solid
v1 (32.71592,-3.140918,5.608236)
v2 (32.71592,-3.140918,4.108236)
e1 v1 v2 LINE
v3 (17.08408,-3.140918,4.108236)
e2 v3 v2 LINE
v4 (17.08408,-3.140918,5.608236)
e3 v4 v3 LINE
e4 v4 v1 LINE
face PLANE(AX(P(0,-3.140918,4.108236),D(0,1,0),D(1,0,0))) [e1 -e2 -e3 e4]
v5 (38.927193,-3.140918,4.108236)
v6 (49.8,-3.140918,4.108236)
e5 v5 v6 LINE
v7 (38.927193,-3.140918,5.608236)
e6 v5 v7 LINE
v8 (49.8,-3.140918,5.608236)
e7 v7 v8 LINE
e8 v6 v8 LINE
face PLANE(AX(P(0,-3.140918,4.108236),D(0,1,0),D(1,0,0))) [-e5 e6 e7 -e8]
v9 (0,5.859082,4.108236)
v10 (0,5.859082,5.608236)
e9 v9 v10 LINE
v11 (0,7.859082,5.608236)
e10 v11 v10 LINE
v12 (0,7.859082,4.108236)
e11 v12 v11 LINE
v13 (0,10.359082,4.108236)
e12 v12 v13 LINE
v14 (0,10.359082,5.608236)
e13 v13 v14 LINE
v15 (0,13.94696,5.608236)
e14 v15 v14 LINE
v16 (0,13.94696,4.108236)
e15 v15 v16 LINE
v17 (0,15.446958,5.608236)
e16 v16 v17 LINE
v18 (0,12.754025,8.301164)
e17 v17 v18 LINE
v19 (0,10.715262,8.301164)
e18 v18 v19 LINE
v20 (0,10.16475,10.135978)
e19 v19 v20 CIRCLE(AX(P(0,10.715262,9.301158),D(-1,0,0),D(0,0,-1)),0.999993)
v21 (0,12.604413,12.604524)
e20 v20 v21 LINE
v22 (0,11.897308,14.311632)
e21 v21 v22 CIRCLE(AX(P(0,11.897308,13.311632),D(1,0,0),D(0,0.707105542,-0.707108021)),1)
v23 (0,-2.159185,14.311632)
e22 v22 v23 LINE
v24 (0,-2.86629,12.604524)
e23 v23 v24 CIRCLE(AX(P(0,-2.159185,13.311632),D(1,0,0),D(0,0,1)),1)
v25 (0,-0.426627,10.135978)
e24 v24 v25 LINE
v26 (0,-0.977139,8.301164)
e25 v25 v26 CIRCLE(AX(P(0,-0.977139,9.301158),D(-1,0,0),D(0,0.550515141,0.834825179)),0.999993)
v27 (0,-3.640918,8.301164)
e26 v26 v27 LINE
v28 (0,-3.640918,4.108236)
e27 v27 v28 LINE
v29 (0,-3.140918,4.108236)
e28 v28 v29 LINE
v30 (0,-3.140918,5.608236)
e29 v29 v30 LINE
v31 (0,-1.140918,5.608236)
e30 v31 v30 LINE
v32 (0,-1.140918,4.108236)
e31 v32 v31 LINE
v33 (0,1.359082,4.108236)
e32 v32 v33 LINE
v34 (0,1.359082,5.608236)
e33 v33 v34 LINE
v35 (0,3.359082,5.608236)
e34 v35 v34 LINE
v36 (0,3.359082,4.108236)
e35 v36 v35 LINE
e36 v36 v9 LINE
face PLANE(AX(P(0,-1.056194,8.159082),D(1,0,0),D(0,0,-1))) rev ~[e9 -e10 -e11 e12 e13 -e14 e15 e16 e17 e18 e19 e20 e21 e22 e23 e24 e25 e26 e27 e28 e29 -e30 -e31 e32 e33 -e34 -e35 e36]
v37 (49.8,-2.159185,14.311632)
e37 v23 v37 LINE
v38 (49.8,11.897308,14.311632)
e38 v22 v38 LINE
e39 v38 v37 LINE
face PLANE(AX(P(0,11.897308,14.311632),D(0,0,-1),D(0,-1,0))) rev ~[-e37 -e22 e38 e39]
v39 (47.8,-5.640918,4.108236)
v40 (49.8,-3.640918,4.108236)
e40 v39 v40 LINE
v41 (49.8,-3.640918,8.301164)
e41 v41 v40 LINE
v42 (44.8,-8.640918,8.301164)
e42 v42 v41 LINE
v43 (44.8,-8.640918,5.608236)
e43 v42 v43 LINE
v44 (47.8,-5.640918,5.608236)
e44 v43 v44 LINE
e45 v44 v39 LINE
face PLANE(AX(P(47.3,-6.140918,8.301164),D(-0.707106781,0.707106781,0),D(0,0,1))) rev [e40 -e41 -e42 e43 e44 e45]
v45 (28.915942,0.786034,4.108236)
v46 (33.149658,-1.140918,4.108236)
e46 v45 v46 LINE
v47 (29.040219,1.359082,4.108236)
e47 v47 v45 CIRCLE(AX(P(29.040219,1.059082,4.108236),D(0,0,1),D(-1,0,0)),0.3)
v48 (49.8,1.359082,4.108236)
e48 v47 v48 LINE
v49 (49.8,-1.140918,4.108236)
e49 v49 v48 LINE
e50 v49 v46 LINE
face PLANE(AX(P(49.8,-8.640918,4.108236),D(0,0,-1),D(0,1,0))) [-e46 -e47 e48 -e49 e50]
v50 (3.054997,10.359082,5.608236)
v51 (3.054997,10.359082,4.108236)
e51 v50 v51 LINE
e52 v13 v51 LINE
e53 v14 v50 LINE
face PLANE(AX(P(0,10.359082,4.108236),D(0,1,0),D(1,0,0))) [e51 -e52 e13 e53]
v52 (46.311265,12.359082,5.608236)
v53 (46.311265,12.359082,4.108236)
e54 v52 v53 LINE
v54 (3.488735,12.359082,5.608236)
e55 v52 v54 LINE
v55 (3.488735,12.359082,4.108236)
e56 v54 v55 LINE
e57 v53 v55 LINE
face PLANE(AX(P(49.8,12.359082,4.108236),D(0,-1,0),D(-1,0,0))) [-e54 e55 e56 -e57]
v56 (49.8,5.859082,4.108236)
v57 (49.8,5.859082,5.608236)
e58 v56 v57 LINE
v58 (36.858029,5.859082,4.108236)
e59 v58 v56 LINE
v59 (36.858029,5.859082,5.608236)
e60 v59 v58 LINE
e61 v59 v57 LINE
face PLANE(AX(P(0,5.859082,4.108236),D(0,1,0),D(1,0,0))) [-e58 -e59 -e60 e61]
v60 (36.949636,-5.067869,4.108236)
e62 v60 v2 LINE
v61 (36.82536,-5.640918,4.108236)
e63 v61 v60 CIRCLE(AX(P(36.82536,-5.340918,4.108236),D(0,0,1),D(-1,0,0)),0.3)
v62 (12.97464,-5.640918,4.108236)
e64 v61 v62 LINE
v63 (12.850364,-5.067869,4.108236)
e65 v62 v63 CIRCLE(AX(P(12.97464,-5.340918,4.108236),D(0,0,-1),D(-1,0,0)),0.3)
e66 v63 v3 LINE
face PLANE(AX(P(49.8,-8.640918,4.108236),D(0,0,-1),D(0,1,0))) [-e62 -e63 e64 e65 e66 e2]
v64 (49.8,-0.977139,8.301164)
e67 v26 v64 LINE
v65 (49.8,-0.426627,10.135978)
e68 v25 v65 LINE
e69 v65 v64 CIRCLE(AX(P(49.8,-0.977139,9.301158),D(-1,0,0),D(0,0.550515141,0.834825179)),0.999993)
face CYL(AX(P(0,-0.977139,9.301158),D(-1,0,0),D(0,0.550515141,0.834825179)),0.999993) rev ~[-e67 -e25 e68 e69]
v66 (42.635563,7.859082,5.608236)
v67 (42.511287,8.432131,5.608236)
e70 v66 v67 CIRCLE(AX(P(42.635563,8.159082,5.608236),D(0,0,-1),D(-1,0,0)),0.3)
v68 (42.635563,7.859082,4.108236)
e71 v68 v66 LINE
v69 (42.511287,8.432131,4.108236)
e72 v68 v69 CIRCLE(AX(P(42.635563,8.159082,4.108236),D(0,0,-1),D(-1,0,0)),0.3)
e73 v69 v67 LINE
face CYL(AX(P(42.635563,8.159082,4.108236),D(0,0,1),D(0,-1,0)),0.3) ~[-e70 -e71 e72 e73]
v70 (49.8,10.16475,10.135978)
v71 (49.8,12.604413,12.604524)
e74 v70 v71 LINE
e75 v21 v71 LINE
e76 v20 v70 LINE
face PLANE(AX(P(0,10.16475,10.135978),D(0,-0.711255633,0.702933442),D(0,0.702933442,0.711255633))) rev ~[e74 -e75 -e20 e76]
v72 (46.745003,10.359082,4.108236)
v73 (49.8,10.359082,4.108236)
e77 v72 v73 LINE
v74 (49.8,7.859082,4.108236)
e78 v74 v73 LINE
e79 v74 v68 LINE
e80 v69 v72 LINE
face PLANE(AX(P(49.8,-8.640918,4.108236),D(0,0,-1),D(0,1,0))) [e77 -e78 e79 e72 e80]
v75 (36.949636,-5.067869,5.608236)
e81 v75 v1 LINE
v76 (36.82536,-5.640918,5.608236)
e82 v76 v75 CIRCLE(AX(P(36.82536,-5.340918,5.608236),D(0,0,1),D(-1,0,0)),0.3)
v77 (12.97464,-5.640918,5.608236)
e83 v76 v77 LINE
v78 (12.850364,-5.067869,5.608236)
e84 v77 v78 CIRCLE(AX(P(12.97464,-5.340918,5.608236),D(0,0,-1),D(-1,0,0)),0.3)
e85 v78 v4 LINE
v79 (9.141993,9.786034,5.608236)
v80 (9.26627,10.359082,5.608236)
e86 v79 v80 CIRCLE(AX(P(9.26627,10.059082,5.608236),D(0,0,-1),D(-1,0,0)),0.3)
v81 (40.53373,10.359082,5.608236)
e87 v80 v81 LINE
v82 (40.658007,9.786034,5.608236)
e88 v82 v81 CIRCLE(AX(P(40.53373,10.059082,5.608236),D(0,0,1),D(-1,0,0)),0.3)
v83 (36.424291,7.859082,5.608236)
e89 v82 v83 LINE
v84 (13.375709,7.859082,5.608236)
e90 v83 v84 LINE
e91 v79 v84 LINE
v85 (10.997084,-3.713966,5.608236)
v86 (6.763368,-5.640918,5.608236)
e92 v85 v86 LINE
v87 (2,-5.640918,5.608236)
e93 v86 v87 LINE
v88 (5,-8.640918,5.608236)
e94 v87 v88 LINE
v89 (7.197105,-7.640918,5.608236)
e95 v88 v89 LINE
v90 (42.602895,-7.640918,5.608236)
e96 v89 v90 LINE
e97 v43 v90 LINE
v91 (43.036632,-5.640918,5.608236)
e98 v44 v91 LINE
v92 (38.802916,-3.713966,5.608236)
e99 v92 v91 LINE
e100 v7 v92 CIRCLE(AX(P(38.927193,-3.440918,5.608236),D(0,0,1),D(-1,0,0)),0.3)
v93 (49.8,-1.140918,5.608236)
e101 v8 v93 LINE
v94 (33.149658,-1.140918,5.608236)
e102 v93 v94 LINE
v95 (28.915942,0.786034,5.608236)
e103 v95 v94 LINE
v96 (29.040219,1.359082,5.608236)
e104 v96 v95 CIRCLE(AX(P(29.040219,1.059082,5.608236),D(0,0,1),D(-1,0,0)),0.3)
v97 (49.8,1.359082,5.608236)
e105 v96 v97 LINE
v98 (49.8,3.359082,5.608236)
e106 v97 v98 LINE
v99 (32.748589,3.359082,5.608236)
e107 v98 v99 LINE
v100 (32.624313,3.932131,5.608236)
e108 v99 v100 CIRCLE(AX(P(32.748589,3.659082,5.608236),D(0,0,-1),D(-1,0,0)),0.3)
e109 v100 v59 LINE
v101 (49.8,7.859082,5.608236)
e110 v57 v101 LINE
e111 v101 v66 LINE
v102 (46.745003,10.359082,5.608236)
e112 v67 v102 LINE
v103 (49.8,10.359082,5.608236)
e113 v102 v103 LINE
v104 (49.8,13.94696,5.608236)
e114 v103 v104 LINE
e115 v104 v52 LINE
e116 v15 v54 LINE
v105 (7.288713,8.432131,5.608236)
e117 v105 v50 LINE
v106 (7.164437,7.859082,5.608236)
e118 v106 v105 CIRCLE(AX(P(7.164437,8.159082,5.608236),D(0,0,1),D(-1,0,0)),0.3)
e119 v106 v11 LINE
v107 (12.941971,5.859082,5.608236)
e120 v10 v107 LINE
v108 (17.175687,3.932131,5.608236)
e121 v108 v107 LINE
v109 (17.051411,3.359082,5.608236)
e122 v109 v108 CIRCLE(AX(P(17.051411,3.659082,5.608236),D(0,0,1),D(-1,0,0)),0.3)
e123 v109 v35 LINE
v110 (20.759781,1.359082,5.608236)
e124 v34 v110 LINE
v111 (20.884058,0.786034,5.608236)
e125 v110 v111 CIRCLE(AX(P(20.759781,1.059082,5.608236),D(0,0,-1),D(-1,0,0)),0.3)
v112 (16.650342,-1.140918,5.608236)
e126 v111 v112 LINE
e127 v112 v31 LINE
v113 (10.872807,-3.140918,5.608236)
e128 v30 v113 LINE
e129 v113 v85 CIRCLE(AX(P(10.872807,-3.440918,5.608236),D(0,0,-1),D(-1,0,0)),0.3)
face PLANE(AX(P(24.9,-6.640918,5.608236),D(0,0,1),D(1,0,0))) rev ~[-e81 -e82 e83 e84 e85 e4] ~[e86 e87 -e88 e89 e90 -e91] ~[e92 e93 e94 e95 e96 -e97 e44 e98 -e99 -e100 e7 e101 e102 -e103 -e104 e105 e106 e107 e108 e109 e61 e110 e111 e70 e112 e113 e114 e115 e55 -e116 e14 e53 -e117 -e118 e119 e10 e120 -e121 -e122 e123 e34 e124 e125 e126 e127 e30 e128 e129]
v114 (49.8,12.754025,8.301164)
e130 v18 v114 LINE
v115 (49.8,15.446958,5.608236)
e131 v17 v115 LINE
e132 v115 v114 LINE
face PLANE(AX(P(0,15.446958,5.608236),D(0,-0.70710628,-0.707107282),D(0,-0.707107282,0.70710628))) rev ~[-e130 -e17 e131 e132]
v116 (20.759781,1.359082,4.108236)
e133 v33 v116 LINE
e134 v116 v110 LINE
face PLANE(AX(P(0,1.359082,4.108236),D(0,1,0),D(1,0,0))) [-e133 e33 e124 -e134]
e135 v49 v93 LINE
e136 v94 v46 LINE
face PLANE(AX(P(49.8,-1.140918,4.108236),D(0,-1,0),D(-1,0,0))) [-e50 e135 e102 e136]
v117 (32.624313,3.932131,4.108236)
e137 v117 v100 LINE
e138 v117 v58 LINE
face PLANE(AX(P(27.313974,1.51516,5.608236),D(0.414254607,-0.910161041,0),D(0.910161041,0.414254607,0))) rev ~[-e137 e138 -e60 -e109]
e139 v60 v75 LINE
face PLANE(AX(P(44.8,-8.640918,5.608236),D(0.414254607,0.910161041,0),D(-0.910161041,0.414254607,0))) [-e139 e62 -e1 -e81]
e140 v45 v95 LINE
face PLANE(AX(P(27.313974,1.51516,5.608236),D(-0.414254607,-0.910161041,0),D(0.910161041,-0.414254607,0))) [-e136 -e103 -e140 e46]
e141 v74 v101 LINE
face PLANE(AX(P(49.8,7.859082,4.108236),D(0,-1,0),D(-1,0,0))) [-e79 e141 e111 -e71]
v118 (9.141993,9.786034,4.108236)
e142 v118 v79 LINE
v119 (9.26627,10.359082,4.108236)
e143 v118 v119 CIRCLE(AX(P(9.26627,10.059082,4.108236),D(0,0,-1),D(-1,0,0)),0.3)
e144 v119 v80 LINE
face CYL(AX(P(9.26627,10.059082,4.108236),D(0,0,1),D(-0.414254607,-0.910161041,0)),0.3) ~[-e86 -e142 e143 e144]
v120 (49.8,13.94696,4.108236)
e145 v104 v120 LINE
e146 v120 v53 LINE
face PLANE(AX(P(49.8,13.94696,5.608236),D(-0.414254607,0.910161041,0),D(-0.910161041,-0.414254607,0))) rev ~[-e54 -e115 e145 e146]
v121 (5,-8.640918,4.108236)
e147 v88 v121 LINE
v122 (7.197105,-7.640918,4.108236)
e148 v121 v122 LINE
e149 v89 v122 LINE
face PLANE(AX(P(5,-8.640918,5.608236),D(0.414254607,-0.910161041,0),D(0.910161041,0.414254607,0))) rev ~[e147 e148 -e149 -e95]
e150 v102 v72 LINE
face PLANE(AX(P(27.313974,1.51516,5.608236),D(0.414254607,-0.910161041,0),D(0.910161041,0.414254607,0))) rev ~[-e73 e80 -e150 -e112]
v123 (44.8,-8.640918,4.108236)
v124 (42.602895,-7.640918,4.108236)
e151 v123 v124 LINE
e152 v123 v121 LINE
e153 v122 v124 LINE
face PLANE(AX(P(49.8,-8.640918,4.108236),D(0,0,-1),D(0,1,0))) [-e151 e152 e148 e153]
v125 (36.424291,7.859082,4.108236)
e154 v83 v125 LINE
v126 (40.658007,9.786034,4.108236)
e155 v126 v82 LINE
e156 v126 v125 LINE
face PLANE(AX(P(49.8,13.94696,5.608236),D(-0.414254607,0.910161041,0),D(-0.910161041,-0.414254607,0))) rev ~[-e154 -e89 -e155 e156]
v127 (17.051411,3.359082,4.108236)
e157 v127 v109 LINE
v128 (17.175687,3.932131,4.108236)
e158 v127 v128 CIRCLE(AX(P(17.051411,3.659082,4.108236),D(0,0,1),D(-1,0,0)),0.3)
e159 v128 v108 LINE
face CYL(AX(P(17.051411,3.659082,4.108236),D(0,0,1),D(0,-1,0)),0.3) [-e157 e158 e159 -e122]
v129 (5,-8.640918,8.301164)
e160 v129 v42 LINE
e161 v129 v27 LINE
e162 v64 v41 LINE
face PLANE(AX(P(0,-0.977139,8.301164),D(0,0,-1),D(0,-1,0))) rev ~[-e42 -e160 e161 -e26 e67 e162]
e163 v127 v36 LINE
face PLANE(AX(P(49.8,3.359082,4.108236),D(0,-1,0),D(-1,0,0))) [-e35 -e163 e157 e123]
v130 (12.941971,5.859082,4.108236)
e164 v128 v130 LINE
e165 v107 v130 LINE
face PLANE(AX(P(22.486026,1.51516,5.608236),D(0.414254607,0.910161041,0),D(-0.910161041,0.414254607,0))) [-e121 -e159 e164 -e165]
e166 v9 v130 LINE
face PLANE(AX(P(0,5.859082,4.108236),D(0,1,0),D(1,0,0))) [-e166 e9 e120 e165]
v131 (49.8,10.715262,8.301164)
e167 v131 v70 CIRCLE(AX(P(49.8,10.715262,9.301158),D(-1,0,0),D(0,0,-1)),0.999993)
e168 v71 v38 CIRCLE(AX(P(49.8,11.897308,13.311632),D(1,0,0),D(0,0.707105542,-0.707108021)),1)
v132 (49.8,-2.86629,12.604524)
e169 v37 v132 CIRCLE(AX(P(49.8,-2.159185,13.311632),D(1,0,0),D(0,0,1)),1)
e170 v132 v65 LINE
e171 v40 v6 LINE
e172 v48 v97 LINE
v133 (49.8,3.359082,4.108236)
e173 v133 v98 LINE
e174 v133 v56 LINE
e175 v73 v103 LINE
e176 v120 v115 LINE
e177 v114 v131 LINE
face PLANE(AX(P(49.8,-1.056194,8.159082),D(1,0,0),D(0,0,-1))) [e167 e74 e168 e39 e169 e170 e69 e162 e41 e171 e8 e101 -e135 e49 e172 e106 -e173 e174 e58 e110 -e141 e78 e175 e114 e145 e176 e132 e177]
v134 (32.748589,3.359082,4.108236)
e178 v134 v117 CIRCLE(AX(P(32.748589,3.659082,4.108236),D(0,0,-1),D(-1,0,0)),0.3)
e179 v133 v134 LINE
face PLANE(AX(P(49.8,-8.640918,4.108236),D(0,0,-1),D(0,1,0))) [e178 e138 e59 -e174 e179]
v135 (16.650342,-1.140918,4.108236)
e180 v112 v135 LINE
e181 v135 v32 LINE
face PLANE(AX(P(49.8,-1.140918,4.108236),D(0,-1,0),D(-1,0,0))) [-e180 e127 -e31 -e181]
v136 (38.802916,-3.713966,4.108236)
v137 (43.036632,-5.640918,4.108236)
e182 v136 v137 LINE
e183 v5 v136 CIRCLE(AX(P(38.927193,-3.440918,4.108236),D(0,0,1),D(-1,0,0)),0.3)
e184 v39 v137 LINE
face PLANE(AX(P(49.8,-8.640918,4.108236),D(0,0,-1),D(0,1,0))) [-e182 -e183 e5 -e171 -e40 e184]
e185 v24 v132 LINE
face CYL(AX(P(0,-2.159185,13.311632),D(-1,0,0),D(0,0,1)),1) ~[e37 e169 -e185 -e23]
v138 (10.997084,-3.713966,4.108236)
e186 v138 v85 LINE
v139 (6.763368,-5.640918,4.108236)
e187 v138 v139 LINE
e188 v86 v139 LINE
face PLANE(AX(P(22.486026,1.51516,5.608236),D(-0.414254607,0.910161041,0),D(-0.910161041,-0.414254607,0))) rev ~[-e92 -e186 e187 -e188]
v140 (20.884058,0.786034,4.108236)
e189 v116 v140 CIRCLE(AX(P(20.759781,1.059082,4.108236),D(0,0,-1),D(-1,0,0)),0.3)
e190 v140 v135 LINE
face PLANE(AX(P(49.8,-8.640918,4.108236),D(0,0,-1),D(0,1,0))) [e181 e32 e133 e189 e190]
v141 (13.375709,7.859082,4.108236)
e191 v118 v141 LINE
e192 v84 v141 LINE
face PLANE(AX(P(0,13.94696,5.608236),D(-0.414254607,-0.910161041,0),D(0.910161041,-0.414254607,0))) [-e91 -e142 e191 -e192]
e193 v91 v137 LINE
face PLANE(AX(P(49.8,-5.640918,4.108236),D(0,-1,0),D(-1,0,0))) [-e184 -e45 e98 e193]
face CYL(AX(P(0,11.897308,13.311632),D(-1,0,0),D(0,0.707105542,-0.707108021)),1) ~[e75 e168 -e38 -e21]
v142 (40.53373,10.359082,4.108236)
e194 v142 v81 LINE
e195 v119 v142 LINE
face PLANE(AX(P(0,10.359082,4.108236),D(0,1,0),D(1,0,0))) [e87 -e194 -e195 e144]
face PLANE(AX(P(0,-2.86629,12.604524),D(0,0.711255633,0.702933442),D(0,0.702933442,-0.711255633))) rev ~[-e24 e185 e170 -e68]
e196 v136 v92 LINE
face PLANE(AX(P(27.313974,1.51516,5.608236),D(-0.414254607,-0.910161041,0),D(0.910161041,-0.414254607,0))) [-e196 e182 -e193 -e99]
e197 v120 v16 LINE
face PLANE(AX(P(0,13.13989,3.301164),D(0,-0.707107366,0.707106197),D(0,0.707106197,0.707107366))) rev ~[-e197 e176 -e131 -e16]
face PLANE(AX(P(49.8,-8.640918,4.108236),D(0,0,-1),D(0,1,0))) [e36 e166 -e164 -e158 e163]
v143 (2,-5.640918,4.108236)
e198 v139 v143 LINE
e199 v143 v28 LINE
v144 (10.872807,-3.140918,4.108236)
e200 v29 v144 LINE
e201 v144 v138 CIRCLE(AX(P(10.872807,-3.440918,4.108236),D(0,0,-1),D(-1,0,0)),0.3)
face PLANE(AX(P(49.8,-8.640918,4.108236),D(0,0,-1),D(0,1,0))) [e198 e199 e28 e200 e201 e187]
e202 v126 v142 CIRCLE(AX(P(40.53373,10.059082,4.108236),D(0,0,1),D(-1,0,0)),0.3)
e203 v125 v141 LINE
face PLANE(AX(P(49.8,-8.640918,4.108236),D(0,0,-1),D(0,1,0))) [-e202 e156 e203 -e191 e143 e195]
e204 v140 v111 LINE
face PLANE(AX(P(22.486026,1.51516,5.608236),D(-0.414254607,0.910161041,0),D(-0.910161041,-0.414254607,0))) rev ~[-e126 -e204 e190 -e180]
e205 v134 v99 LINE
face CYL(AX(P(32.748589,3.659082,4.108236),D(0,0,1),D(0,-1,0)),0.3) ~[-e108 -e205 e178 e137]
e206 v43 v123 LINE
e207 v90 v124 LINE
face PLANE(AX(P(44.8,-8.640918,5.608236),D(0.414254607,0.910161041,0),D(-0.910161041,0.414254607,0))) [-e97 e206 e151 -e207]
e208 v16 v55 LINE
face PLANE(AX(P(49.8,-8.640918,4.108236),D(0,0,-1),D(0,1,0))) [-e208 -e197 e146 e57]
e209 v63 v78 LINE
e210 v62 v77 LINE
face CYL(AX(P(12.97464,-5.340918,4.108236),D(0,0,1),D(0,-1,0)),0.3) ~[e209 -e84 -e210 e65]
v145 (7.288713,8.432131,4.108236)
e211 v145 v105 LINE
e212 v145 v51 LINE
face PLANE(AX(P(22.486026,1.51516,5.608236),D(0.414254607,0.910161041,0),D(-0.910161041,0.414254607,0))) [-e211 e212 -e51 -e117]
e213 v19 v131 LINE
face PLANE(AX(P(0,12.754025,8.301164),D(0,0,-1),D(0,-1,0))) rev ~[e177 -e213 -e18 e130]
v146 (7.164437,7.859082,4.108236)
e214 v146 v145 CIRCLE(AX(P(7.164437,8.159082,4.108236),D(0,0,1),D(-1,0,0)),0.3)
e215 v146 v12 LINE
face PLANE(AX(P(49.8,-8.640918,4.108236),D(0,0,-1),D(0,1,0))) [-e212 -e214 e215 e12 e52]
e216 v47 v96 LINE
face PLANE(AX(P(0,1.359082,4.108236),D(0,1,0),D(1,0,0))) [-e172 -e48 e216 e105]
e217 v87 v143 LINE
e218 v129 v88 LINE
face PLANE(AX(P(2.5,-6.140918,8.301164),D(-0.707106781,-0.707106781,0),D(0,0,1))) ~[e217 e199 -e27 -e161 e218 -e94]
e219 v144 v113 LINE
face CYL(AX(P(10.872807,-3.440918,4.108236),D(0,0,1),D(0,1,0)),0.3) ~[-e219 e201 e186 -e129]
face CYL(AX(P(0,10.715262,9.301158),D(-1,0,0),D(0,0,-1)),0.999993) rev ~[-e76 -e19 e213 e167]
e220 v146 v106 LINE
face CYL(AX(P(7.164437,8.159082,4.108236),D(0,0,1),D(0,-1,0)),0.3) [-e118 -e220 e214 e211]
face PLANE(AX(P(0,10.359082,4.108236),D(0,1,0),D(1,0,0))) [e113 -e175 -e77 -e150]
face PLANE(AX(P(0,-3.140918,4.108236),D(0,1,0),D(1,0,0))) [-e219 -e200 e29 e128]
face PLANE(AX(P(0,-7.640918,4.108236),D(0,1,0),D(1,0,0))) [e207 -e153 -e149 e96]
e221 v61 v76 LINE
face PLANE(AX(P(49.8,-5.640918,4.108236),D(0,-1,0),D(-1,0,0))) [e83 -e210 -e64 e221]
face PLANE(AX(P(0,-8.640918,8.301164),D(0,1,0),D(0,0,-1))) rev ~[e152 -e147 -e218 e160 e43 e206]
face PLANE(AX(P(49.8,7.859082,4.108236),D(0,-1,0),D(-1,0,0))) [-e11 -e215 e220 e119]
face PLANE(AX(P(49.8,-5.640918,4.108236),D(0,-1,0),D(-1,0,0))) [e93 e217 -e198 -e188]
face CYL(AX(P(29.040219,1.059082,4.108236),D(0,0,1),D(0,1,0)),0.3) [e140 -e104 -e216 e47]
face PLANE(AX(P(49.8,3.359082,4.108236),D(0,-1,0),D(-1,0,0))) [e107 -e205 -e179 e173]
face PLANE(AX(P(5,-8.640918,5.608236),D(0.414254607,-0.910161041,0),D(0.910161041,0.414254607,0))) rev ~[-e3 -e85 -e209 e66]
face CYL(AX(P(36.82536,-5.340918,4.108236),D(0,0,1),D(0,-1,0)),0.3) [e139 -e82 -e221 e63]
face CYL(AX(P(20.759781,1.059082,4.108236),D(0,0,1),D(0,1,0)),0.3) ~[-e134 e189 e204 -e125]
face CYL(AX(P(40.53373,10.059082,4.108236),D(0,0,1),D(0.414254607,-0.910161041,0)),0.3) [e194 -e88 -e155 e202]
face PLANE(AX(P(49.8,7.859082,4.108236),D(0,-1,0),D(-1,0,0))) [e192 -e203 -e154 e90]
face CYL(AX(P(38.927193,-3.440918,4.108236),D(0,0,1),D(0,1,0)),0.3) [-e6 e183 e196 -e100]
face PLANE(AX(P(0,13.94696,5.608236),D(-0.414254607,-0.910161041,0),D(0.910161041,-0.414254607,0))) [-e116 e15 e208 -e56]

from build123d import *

# Parameters (mm, degrees)
EXTRUDE_1_DEPTH     = 49.8
CHAMFER_1_SIZE      = 5
CUT_EXTRUDE_1_DEPTH = 49.8
CUT_EXTRUDE_2_DEPTH = 1.5
CUT_EXTRUDE_5_DEPTH = 1.5
CUT_EXTRUDE_6_DEPTH = 1.5
FILLET_1_R          = 0.3


with BuildPart() as part:
    # 草图1 → 凸台-拉伸1 (new body)
    with BuildSketch(Plane(origin=(0, 0, 0), x_dir=(0, 0, -1), z_dir=(1, 0, 0))):
        with BuildLine():
            Line((-3.3011643203984544, 4.869061466212711), (-14.311631849697747, 4.869061466212711))
            Line((-14.311631849697747, 4.869061466212711), (-14.311631849697747, -2.159184752168928))
            ThreePointArc((-14.311631849697747, -2.1591847521689282), (-13.694314644696359, -3.083064362059199), (-12.60452430575002, -2.8662900962872895))
            Line((-12.60452430575002, -2.8662900962872895), (-10.135977537233877, -0.4266270598954794))
            ThreePointArc((-10.135977537233877, -0.42662705989547856), (-10.004086660367205, -0.2658876156487018), (-9.841806105066398, -0.1358976402325789))
            ThreePointArc((-9.841806105066398, -0.1358976402325789), (-8.821917682779581, -0.09946220767270797), (-8.301164320376756, -0.9771386117116159))
            Line((-8.301164320376756, -0.9771386117116161), (-8.301164320376754, -3.01590252304511))
            Line((-8.301164320376754, -3.01590252304511), (-8.301164320376756, -8.640917781834164))
            Line((-8.301164320376756, -8.640917781834164), (-3.3011643203767598, -8.640917781834164))
            Line((-3.30116432037676, -8.640917781834164), (-3.30116432037676, 4.869061466212711))
        make_face()
        with BuildLine():
            ThreePointArc((-8.301164320376754, 10.71526154413704), (-8.821917682779581, 9.837585140098131), (-9.841806105066398, 9.874020572658003))
            ThreePointArc((-9.841806105066398, 9.874020572658003), (-10.004086660367204, 10.004010548074126), (-10.135977537233877, 10.164749992320901))
            Line((-10.135977537233877, 10.164749992320901), (-12.60452430575002, 12.604413028712713))
            ThreePointArc((-12.60452430575002, 12.604413028712713), (-13.694314644696359, 12.821187294484622), (-14.311631849697747, 11.89730768459435))
            Line((-14.311631849697747, 11.89730768459435), (-14.311631849697747, 4.869061466212711))
            Line((-14.311631849697747, 4.869061466212711), (-3.3011643203984544, 4.869061466212711))
            Line((-3.30116432037676, 4.869061466212711), (-3.30116432037676, 13.139889713283024))
            Line((-3.30116432037676, 13.139889713283026), (-5.608236006167775, 15.446957584376776))
            Line((-5.608236006167775, 15.446957584376776), (-8.301164320376754, 12.754025455470533))
            Line((-8.301164320376754, 12.754025455470533), (-8.301164320376756, 10.71526154413704))
        make_face()
    extrude(amount=EXTRUDE_1_DEPTH)

    # 倒角1
    chamfer_1_edges = [part.edges().sort_by_distance(p)[0] for p in [
        (0, -8.640917781834164, 5.801164320376758),
        (49.8, -8.640917781834164, 5.801164320376758),
    ]]
    chamfer(chamfer_1_edges, length=CHAMFER_1_SIZE)

    # 草图3 → 切除-拉伸1 (cut)
    with BuildSketch(Plane(origin=(49.8, 0, 0), x_dir=(0, 0, -1), z_dir=(1, 0, 0))):
        Polygon((-4.108236006167775, 13.94696006459702), (-3.301164320376763, 13.94696006459702), (-3.30116432037676, -8.640917781834164), (-4.108236006167774, -8.640917781834164), align=None)
    extrude(amount=-CUT_EXTRUDE_1_DEPTH, mode=Mode.SUBTRACT)

    # 草图4 → 切除-拉伸2 (cut)
    with BuildSketch(Plane(origin=(0, -4.7e-16, 4.1082360061677745), x_dir=(-1, 0, 0), z_dir=(0, 1.2e-16, -1))):
        Polygon((-49.8, -5.640917781834157), (0, -5.640917781834158), (0, -7.640917781834159), (-49.8, -7.640917781834159), align=None)
        Polygon((-49.80000000000001, -1.1409177818341574), (-1.544e-14, -1.140917781834159), (-1.544e-14, -3.140917781834159), (-49.80000000000001, -3.140917781834159), align=None)
        Polygon((-49.800000000000026, 3.359082218165842), (-3.087e-14, 3.359082218165841), (-3.087e-14, 1.3590822181658406), (-49.800000000000026, 1.3590822181658406), align=None)
        Polygon((-49.80000000000005, 7.859082218165841), (-4.631e-14, 7.859082218165839), (-4.631e-14, 5.859082218165839), (-49.80000000000005, 5.859082218165839), align=None)
        Polygon((-49.80000000000006, 12.359082218165842), (-6.174e-14, 12.35908221816584), (-6.174e-14, 10.35908221816584), (-49.80000000000006, 10.35908221816584), align=None)
    extrude(amount=-CUT_EXTRUDE_2_DEPTH, mode=Mode.SUBTRACT)

    # 草图5 → 切除-拉伸5 (cut)
    with BuildSketch(Plane(origin=(0, 0, 5.608236006167775), x_dir=(-1, 0, 0), z_dir=(0, 0, -1))):
        Polygon((0, 13.94696006459702), (-46.31009994685559, -7.1308178349785605), (-44.799999999999976, -8.640917781834164), (-6.175e-14, 11.749546738532302), align=None)
        Polygon((-49.79999999999993, 11.74954673853228), (-49.8, 13.946960064596997), (-3.489900053144389, -7.13081783497854), (-4.999999999999997, -8.640917781834142), align=None)
    extrude(amount=CUT_EXTRUDE_5_DEPTH, mode=Mode.SUBTRACT)

    # 草图6 → 切除-拉伸6 (cut)
    with BuildSketch(Plane(origin=(0, -4.7e-16, 4.1082360061677745), x_dir=(-1, 0, 0), z_dir=(0, 1.2e-16, -1))):
        Polygon((-28.321709391936835, -1.1409177818341594), (-21.478290608063137, -1.1409177818341603), (-24.89999999999999, 0.41645373502506017), align=None)
        Polygon((-17.76992020746784, 5.85908221816584), (-32.03007979253217, 5.859082218165842), (-26.53731625651111, 3.3590822181658413), (-23.26268374348888, 3.3590822181658413), align=None)
    extrude(amount=-CUT_EXTRUDE_6_DEPTH, mode=Mode.SUBTRACT)

    # 圆角1
    fillet_1_edges = [part.edges().sort_by_distance(p)[0] for p in [
        (41.252239337738956, 7.85908221816584, 4.858236006167775),
        (31.36526497290105, 3.3590822181658417, 4.858236006167775),
        (41.91705415737007, 10.359082218165842, 4.858236006167775),
        (8.547760662261016, 7.85908221816585, 4.858236006167775),
        (7.8829458426299635, 10.359082218165838, 4.858236006167775),
        (22.143105427694266, 1.3590822181658417, 4.858236006167775),
        (12.25613106285637, -3.1409177818341556, 4.858236006167775),
        (11.591316243225233, -5.640917781834158, 4.8582360061677745),
        (27.656894572305735, 1.3590822181658355, 4.858236006167775),
        (37.543868937143614, -3.1409177818341654, 4.858236006167775),
        (38.208683756774704, -5.6409177818341565, 4.8582360061677745),
        (18.434735027098903, 3.3590822181658484, 4.858236006167775),
    ]]
    fillet(fillet_1_edges, radius=FILLET_1_R)


solid = part.part
